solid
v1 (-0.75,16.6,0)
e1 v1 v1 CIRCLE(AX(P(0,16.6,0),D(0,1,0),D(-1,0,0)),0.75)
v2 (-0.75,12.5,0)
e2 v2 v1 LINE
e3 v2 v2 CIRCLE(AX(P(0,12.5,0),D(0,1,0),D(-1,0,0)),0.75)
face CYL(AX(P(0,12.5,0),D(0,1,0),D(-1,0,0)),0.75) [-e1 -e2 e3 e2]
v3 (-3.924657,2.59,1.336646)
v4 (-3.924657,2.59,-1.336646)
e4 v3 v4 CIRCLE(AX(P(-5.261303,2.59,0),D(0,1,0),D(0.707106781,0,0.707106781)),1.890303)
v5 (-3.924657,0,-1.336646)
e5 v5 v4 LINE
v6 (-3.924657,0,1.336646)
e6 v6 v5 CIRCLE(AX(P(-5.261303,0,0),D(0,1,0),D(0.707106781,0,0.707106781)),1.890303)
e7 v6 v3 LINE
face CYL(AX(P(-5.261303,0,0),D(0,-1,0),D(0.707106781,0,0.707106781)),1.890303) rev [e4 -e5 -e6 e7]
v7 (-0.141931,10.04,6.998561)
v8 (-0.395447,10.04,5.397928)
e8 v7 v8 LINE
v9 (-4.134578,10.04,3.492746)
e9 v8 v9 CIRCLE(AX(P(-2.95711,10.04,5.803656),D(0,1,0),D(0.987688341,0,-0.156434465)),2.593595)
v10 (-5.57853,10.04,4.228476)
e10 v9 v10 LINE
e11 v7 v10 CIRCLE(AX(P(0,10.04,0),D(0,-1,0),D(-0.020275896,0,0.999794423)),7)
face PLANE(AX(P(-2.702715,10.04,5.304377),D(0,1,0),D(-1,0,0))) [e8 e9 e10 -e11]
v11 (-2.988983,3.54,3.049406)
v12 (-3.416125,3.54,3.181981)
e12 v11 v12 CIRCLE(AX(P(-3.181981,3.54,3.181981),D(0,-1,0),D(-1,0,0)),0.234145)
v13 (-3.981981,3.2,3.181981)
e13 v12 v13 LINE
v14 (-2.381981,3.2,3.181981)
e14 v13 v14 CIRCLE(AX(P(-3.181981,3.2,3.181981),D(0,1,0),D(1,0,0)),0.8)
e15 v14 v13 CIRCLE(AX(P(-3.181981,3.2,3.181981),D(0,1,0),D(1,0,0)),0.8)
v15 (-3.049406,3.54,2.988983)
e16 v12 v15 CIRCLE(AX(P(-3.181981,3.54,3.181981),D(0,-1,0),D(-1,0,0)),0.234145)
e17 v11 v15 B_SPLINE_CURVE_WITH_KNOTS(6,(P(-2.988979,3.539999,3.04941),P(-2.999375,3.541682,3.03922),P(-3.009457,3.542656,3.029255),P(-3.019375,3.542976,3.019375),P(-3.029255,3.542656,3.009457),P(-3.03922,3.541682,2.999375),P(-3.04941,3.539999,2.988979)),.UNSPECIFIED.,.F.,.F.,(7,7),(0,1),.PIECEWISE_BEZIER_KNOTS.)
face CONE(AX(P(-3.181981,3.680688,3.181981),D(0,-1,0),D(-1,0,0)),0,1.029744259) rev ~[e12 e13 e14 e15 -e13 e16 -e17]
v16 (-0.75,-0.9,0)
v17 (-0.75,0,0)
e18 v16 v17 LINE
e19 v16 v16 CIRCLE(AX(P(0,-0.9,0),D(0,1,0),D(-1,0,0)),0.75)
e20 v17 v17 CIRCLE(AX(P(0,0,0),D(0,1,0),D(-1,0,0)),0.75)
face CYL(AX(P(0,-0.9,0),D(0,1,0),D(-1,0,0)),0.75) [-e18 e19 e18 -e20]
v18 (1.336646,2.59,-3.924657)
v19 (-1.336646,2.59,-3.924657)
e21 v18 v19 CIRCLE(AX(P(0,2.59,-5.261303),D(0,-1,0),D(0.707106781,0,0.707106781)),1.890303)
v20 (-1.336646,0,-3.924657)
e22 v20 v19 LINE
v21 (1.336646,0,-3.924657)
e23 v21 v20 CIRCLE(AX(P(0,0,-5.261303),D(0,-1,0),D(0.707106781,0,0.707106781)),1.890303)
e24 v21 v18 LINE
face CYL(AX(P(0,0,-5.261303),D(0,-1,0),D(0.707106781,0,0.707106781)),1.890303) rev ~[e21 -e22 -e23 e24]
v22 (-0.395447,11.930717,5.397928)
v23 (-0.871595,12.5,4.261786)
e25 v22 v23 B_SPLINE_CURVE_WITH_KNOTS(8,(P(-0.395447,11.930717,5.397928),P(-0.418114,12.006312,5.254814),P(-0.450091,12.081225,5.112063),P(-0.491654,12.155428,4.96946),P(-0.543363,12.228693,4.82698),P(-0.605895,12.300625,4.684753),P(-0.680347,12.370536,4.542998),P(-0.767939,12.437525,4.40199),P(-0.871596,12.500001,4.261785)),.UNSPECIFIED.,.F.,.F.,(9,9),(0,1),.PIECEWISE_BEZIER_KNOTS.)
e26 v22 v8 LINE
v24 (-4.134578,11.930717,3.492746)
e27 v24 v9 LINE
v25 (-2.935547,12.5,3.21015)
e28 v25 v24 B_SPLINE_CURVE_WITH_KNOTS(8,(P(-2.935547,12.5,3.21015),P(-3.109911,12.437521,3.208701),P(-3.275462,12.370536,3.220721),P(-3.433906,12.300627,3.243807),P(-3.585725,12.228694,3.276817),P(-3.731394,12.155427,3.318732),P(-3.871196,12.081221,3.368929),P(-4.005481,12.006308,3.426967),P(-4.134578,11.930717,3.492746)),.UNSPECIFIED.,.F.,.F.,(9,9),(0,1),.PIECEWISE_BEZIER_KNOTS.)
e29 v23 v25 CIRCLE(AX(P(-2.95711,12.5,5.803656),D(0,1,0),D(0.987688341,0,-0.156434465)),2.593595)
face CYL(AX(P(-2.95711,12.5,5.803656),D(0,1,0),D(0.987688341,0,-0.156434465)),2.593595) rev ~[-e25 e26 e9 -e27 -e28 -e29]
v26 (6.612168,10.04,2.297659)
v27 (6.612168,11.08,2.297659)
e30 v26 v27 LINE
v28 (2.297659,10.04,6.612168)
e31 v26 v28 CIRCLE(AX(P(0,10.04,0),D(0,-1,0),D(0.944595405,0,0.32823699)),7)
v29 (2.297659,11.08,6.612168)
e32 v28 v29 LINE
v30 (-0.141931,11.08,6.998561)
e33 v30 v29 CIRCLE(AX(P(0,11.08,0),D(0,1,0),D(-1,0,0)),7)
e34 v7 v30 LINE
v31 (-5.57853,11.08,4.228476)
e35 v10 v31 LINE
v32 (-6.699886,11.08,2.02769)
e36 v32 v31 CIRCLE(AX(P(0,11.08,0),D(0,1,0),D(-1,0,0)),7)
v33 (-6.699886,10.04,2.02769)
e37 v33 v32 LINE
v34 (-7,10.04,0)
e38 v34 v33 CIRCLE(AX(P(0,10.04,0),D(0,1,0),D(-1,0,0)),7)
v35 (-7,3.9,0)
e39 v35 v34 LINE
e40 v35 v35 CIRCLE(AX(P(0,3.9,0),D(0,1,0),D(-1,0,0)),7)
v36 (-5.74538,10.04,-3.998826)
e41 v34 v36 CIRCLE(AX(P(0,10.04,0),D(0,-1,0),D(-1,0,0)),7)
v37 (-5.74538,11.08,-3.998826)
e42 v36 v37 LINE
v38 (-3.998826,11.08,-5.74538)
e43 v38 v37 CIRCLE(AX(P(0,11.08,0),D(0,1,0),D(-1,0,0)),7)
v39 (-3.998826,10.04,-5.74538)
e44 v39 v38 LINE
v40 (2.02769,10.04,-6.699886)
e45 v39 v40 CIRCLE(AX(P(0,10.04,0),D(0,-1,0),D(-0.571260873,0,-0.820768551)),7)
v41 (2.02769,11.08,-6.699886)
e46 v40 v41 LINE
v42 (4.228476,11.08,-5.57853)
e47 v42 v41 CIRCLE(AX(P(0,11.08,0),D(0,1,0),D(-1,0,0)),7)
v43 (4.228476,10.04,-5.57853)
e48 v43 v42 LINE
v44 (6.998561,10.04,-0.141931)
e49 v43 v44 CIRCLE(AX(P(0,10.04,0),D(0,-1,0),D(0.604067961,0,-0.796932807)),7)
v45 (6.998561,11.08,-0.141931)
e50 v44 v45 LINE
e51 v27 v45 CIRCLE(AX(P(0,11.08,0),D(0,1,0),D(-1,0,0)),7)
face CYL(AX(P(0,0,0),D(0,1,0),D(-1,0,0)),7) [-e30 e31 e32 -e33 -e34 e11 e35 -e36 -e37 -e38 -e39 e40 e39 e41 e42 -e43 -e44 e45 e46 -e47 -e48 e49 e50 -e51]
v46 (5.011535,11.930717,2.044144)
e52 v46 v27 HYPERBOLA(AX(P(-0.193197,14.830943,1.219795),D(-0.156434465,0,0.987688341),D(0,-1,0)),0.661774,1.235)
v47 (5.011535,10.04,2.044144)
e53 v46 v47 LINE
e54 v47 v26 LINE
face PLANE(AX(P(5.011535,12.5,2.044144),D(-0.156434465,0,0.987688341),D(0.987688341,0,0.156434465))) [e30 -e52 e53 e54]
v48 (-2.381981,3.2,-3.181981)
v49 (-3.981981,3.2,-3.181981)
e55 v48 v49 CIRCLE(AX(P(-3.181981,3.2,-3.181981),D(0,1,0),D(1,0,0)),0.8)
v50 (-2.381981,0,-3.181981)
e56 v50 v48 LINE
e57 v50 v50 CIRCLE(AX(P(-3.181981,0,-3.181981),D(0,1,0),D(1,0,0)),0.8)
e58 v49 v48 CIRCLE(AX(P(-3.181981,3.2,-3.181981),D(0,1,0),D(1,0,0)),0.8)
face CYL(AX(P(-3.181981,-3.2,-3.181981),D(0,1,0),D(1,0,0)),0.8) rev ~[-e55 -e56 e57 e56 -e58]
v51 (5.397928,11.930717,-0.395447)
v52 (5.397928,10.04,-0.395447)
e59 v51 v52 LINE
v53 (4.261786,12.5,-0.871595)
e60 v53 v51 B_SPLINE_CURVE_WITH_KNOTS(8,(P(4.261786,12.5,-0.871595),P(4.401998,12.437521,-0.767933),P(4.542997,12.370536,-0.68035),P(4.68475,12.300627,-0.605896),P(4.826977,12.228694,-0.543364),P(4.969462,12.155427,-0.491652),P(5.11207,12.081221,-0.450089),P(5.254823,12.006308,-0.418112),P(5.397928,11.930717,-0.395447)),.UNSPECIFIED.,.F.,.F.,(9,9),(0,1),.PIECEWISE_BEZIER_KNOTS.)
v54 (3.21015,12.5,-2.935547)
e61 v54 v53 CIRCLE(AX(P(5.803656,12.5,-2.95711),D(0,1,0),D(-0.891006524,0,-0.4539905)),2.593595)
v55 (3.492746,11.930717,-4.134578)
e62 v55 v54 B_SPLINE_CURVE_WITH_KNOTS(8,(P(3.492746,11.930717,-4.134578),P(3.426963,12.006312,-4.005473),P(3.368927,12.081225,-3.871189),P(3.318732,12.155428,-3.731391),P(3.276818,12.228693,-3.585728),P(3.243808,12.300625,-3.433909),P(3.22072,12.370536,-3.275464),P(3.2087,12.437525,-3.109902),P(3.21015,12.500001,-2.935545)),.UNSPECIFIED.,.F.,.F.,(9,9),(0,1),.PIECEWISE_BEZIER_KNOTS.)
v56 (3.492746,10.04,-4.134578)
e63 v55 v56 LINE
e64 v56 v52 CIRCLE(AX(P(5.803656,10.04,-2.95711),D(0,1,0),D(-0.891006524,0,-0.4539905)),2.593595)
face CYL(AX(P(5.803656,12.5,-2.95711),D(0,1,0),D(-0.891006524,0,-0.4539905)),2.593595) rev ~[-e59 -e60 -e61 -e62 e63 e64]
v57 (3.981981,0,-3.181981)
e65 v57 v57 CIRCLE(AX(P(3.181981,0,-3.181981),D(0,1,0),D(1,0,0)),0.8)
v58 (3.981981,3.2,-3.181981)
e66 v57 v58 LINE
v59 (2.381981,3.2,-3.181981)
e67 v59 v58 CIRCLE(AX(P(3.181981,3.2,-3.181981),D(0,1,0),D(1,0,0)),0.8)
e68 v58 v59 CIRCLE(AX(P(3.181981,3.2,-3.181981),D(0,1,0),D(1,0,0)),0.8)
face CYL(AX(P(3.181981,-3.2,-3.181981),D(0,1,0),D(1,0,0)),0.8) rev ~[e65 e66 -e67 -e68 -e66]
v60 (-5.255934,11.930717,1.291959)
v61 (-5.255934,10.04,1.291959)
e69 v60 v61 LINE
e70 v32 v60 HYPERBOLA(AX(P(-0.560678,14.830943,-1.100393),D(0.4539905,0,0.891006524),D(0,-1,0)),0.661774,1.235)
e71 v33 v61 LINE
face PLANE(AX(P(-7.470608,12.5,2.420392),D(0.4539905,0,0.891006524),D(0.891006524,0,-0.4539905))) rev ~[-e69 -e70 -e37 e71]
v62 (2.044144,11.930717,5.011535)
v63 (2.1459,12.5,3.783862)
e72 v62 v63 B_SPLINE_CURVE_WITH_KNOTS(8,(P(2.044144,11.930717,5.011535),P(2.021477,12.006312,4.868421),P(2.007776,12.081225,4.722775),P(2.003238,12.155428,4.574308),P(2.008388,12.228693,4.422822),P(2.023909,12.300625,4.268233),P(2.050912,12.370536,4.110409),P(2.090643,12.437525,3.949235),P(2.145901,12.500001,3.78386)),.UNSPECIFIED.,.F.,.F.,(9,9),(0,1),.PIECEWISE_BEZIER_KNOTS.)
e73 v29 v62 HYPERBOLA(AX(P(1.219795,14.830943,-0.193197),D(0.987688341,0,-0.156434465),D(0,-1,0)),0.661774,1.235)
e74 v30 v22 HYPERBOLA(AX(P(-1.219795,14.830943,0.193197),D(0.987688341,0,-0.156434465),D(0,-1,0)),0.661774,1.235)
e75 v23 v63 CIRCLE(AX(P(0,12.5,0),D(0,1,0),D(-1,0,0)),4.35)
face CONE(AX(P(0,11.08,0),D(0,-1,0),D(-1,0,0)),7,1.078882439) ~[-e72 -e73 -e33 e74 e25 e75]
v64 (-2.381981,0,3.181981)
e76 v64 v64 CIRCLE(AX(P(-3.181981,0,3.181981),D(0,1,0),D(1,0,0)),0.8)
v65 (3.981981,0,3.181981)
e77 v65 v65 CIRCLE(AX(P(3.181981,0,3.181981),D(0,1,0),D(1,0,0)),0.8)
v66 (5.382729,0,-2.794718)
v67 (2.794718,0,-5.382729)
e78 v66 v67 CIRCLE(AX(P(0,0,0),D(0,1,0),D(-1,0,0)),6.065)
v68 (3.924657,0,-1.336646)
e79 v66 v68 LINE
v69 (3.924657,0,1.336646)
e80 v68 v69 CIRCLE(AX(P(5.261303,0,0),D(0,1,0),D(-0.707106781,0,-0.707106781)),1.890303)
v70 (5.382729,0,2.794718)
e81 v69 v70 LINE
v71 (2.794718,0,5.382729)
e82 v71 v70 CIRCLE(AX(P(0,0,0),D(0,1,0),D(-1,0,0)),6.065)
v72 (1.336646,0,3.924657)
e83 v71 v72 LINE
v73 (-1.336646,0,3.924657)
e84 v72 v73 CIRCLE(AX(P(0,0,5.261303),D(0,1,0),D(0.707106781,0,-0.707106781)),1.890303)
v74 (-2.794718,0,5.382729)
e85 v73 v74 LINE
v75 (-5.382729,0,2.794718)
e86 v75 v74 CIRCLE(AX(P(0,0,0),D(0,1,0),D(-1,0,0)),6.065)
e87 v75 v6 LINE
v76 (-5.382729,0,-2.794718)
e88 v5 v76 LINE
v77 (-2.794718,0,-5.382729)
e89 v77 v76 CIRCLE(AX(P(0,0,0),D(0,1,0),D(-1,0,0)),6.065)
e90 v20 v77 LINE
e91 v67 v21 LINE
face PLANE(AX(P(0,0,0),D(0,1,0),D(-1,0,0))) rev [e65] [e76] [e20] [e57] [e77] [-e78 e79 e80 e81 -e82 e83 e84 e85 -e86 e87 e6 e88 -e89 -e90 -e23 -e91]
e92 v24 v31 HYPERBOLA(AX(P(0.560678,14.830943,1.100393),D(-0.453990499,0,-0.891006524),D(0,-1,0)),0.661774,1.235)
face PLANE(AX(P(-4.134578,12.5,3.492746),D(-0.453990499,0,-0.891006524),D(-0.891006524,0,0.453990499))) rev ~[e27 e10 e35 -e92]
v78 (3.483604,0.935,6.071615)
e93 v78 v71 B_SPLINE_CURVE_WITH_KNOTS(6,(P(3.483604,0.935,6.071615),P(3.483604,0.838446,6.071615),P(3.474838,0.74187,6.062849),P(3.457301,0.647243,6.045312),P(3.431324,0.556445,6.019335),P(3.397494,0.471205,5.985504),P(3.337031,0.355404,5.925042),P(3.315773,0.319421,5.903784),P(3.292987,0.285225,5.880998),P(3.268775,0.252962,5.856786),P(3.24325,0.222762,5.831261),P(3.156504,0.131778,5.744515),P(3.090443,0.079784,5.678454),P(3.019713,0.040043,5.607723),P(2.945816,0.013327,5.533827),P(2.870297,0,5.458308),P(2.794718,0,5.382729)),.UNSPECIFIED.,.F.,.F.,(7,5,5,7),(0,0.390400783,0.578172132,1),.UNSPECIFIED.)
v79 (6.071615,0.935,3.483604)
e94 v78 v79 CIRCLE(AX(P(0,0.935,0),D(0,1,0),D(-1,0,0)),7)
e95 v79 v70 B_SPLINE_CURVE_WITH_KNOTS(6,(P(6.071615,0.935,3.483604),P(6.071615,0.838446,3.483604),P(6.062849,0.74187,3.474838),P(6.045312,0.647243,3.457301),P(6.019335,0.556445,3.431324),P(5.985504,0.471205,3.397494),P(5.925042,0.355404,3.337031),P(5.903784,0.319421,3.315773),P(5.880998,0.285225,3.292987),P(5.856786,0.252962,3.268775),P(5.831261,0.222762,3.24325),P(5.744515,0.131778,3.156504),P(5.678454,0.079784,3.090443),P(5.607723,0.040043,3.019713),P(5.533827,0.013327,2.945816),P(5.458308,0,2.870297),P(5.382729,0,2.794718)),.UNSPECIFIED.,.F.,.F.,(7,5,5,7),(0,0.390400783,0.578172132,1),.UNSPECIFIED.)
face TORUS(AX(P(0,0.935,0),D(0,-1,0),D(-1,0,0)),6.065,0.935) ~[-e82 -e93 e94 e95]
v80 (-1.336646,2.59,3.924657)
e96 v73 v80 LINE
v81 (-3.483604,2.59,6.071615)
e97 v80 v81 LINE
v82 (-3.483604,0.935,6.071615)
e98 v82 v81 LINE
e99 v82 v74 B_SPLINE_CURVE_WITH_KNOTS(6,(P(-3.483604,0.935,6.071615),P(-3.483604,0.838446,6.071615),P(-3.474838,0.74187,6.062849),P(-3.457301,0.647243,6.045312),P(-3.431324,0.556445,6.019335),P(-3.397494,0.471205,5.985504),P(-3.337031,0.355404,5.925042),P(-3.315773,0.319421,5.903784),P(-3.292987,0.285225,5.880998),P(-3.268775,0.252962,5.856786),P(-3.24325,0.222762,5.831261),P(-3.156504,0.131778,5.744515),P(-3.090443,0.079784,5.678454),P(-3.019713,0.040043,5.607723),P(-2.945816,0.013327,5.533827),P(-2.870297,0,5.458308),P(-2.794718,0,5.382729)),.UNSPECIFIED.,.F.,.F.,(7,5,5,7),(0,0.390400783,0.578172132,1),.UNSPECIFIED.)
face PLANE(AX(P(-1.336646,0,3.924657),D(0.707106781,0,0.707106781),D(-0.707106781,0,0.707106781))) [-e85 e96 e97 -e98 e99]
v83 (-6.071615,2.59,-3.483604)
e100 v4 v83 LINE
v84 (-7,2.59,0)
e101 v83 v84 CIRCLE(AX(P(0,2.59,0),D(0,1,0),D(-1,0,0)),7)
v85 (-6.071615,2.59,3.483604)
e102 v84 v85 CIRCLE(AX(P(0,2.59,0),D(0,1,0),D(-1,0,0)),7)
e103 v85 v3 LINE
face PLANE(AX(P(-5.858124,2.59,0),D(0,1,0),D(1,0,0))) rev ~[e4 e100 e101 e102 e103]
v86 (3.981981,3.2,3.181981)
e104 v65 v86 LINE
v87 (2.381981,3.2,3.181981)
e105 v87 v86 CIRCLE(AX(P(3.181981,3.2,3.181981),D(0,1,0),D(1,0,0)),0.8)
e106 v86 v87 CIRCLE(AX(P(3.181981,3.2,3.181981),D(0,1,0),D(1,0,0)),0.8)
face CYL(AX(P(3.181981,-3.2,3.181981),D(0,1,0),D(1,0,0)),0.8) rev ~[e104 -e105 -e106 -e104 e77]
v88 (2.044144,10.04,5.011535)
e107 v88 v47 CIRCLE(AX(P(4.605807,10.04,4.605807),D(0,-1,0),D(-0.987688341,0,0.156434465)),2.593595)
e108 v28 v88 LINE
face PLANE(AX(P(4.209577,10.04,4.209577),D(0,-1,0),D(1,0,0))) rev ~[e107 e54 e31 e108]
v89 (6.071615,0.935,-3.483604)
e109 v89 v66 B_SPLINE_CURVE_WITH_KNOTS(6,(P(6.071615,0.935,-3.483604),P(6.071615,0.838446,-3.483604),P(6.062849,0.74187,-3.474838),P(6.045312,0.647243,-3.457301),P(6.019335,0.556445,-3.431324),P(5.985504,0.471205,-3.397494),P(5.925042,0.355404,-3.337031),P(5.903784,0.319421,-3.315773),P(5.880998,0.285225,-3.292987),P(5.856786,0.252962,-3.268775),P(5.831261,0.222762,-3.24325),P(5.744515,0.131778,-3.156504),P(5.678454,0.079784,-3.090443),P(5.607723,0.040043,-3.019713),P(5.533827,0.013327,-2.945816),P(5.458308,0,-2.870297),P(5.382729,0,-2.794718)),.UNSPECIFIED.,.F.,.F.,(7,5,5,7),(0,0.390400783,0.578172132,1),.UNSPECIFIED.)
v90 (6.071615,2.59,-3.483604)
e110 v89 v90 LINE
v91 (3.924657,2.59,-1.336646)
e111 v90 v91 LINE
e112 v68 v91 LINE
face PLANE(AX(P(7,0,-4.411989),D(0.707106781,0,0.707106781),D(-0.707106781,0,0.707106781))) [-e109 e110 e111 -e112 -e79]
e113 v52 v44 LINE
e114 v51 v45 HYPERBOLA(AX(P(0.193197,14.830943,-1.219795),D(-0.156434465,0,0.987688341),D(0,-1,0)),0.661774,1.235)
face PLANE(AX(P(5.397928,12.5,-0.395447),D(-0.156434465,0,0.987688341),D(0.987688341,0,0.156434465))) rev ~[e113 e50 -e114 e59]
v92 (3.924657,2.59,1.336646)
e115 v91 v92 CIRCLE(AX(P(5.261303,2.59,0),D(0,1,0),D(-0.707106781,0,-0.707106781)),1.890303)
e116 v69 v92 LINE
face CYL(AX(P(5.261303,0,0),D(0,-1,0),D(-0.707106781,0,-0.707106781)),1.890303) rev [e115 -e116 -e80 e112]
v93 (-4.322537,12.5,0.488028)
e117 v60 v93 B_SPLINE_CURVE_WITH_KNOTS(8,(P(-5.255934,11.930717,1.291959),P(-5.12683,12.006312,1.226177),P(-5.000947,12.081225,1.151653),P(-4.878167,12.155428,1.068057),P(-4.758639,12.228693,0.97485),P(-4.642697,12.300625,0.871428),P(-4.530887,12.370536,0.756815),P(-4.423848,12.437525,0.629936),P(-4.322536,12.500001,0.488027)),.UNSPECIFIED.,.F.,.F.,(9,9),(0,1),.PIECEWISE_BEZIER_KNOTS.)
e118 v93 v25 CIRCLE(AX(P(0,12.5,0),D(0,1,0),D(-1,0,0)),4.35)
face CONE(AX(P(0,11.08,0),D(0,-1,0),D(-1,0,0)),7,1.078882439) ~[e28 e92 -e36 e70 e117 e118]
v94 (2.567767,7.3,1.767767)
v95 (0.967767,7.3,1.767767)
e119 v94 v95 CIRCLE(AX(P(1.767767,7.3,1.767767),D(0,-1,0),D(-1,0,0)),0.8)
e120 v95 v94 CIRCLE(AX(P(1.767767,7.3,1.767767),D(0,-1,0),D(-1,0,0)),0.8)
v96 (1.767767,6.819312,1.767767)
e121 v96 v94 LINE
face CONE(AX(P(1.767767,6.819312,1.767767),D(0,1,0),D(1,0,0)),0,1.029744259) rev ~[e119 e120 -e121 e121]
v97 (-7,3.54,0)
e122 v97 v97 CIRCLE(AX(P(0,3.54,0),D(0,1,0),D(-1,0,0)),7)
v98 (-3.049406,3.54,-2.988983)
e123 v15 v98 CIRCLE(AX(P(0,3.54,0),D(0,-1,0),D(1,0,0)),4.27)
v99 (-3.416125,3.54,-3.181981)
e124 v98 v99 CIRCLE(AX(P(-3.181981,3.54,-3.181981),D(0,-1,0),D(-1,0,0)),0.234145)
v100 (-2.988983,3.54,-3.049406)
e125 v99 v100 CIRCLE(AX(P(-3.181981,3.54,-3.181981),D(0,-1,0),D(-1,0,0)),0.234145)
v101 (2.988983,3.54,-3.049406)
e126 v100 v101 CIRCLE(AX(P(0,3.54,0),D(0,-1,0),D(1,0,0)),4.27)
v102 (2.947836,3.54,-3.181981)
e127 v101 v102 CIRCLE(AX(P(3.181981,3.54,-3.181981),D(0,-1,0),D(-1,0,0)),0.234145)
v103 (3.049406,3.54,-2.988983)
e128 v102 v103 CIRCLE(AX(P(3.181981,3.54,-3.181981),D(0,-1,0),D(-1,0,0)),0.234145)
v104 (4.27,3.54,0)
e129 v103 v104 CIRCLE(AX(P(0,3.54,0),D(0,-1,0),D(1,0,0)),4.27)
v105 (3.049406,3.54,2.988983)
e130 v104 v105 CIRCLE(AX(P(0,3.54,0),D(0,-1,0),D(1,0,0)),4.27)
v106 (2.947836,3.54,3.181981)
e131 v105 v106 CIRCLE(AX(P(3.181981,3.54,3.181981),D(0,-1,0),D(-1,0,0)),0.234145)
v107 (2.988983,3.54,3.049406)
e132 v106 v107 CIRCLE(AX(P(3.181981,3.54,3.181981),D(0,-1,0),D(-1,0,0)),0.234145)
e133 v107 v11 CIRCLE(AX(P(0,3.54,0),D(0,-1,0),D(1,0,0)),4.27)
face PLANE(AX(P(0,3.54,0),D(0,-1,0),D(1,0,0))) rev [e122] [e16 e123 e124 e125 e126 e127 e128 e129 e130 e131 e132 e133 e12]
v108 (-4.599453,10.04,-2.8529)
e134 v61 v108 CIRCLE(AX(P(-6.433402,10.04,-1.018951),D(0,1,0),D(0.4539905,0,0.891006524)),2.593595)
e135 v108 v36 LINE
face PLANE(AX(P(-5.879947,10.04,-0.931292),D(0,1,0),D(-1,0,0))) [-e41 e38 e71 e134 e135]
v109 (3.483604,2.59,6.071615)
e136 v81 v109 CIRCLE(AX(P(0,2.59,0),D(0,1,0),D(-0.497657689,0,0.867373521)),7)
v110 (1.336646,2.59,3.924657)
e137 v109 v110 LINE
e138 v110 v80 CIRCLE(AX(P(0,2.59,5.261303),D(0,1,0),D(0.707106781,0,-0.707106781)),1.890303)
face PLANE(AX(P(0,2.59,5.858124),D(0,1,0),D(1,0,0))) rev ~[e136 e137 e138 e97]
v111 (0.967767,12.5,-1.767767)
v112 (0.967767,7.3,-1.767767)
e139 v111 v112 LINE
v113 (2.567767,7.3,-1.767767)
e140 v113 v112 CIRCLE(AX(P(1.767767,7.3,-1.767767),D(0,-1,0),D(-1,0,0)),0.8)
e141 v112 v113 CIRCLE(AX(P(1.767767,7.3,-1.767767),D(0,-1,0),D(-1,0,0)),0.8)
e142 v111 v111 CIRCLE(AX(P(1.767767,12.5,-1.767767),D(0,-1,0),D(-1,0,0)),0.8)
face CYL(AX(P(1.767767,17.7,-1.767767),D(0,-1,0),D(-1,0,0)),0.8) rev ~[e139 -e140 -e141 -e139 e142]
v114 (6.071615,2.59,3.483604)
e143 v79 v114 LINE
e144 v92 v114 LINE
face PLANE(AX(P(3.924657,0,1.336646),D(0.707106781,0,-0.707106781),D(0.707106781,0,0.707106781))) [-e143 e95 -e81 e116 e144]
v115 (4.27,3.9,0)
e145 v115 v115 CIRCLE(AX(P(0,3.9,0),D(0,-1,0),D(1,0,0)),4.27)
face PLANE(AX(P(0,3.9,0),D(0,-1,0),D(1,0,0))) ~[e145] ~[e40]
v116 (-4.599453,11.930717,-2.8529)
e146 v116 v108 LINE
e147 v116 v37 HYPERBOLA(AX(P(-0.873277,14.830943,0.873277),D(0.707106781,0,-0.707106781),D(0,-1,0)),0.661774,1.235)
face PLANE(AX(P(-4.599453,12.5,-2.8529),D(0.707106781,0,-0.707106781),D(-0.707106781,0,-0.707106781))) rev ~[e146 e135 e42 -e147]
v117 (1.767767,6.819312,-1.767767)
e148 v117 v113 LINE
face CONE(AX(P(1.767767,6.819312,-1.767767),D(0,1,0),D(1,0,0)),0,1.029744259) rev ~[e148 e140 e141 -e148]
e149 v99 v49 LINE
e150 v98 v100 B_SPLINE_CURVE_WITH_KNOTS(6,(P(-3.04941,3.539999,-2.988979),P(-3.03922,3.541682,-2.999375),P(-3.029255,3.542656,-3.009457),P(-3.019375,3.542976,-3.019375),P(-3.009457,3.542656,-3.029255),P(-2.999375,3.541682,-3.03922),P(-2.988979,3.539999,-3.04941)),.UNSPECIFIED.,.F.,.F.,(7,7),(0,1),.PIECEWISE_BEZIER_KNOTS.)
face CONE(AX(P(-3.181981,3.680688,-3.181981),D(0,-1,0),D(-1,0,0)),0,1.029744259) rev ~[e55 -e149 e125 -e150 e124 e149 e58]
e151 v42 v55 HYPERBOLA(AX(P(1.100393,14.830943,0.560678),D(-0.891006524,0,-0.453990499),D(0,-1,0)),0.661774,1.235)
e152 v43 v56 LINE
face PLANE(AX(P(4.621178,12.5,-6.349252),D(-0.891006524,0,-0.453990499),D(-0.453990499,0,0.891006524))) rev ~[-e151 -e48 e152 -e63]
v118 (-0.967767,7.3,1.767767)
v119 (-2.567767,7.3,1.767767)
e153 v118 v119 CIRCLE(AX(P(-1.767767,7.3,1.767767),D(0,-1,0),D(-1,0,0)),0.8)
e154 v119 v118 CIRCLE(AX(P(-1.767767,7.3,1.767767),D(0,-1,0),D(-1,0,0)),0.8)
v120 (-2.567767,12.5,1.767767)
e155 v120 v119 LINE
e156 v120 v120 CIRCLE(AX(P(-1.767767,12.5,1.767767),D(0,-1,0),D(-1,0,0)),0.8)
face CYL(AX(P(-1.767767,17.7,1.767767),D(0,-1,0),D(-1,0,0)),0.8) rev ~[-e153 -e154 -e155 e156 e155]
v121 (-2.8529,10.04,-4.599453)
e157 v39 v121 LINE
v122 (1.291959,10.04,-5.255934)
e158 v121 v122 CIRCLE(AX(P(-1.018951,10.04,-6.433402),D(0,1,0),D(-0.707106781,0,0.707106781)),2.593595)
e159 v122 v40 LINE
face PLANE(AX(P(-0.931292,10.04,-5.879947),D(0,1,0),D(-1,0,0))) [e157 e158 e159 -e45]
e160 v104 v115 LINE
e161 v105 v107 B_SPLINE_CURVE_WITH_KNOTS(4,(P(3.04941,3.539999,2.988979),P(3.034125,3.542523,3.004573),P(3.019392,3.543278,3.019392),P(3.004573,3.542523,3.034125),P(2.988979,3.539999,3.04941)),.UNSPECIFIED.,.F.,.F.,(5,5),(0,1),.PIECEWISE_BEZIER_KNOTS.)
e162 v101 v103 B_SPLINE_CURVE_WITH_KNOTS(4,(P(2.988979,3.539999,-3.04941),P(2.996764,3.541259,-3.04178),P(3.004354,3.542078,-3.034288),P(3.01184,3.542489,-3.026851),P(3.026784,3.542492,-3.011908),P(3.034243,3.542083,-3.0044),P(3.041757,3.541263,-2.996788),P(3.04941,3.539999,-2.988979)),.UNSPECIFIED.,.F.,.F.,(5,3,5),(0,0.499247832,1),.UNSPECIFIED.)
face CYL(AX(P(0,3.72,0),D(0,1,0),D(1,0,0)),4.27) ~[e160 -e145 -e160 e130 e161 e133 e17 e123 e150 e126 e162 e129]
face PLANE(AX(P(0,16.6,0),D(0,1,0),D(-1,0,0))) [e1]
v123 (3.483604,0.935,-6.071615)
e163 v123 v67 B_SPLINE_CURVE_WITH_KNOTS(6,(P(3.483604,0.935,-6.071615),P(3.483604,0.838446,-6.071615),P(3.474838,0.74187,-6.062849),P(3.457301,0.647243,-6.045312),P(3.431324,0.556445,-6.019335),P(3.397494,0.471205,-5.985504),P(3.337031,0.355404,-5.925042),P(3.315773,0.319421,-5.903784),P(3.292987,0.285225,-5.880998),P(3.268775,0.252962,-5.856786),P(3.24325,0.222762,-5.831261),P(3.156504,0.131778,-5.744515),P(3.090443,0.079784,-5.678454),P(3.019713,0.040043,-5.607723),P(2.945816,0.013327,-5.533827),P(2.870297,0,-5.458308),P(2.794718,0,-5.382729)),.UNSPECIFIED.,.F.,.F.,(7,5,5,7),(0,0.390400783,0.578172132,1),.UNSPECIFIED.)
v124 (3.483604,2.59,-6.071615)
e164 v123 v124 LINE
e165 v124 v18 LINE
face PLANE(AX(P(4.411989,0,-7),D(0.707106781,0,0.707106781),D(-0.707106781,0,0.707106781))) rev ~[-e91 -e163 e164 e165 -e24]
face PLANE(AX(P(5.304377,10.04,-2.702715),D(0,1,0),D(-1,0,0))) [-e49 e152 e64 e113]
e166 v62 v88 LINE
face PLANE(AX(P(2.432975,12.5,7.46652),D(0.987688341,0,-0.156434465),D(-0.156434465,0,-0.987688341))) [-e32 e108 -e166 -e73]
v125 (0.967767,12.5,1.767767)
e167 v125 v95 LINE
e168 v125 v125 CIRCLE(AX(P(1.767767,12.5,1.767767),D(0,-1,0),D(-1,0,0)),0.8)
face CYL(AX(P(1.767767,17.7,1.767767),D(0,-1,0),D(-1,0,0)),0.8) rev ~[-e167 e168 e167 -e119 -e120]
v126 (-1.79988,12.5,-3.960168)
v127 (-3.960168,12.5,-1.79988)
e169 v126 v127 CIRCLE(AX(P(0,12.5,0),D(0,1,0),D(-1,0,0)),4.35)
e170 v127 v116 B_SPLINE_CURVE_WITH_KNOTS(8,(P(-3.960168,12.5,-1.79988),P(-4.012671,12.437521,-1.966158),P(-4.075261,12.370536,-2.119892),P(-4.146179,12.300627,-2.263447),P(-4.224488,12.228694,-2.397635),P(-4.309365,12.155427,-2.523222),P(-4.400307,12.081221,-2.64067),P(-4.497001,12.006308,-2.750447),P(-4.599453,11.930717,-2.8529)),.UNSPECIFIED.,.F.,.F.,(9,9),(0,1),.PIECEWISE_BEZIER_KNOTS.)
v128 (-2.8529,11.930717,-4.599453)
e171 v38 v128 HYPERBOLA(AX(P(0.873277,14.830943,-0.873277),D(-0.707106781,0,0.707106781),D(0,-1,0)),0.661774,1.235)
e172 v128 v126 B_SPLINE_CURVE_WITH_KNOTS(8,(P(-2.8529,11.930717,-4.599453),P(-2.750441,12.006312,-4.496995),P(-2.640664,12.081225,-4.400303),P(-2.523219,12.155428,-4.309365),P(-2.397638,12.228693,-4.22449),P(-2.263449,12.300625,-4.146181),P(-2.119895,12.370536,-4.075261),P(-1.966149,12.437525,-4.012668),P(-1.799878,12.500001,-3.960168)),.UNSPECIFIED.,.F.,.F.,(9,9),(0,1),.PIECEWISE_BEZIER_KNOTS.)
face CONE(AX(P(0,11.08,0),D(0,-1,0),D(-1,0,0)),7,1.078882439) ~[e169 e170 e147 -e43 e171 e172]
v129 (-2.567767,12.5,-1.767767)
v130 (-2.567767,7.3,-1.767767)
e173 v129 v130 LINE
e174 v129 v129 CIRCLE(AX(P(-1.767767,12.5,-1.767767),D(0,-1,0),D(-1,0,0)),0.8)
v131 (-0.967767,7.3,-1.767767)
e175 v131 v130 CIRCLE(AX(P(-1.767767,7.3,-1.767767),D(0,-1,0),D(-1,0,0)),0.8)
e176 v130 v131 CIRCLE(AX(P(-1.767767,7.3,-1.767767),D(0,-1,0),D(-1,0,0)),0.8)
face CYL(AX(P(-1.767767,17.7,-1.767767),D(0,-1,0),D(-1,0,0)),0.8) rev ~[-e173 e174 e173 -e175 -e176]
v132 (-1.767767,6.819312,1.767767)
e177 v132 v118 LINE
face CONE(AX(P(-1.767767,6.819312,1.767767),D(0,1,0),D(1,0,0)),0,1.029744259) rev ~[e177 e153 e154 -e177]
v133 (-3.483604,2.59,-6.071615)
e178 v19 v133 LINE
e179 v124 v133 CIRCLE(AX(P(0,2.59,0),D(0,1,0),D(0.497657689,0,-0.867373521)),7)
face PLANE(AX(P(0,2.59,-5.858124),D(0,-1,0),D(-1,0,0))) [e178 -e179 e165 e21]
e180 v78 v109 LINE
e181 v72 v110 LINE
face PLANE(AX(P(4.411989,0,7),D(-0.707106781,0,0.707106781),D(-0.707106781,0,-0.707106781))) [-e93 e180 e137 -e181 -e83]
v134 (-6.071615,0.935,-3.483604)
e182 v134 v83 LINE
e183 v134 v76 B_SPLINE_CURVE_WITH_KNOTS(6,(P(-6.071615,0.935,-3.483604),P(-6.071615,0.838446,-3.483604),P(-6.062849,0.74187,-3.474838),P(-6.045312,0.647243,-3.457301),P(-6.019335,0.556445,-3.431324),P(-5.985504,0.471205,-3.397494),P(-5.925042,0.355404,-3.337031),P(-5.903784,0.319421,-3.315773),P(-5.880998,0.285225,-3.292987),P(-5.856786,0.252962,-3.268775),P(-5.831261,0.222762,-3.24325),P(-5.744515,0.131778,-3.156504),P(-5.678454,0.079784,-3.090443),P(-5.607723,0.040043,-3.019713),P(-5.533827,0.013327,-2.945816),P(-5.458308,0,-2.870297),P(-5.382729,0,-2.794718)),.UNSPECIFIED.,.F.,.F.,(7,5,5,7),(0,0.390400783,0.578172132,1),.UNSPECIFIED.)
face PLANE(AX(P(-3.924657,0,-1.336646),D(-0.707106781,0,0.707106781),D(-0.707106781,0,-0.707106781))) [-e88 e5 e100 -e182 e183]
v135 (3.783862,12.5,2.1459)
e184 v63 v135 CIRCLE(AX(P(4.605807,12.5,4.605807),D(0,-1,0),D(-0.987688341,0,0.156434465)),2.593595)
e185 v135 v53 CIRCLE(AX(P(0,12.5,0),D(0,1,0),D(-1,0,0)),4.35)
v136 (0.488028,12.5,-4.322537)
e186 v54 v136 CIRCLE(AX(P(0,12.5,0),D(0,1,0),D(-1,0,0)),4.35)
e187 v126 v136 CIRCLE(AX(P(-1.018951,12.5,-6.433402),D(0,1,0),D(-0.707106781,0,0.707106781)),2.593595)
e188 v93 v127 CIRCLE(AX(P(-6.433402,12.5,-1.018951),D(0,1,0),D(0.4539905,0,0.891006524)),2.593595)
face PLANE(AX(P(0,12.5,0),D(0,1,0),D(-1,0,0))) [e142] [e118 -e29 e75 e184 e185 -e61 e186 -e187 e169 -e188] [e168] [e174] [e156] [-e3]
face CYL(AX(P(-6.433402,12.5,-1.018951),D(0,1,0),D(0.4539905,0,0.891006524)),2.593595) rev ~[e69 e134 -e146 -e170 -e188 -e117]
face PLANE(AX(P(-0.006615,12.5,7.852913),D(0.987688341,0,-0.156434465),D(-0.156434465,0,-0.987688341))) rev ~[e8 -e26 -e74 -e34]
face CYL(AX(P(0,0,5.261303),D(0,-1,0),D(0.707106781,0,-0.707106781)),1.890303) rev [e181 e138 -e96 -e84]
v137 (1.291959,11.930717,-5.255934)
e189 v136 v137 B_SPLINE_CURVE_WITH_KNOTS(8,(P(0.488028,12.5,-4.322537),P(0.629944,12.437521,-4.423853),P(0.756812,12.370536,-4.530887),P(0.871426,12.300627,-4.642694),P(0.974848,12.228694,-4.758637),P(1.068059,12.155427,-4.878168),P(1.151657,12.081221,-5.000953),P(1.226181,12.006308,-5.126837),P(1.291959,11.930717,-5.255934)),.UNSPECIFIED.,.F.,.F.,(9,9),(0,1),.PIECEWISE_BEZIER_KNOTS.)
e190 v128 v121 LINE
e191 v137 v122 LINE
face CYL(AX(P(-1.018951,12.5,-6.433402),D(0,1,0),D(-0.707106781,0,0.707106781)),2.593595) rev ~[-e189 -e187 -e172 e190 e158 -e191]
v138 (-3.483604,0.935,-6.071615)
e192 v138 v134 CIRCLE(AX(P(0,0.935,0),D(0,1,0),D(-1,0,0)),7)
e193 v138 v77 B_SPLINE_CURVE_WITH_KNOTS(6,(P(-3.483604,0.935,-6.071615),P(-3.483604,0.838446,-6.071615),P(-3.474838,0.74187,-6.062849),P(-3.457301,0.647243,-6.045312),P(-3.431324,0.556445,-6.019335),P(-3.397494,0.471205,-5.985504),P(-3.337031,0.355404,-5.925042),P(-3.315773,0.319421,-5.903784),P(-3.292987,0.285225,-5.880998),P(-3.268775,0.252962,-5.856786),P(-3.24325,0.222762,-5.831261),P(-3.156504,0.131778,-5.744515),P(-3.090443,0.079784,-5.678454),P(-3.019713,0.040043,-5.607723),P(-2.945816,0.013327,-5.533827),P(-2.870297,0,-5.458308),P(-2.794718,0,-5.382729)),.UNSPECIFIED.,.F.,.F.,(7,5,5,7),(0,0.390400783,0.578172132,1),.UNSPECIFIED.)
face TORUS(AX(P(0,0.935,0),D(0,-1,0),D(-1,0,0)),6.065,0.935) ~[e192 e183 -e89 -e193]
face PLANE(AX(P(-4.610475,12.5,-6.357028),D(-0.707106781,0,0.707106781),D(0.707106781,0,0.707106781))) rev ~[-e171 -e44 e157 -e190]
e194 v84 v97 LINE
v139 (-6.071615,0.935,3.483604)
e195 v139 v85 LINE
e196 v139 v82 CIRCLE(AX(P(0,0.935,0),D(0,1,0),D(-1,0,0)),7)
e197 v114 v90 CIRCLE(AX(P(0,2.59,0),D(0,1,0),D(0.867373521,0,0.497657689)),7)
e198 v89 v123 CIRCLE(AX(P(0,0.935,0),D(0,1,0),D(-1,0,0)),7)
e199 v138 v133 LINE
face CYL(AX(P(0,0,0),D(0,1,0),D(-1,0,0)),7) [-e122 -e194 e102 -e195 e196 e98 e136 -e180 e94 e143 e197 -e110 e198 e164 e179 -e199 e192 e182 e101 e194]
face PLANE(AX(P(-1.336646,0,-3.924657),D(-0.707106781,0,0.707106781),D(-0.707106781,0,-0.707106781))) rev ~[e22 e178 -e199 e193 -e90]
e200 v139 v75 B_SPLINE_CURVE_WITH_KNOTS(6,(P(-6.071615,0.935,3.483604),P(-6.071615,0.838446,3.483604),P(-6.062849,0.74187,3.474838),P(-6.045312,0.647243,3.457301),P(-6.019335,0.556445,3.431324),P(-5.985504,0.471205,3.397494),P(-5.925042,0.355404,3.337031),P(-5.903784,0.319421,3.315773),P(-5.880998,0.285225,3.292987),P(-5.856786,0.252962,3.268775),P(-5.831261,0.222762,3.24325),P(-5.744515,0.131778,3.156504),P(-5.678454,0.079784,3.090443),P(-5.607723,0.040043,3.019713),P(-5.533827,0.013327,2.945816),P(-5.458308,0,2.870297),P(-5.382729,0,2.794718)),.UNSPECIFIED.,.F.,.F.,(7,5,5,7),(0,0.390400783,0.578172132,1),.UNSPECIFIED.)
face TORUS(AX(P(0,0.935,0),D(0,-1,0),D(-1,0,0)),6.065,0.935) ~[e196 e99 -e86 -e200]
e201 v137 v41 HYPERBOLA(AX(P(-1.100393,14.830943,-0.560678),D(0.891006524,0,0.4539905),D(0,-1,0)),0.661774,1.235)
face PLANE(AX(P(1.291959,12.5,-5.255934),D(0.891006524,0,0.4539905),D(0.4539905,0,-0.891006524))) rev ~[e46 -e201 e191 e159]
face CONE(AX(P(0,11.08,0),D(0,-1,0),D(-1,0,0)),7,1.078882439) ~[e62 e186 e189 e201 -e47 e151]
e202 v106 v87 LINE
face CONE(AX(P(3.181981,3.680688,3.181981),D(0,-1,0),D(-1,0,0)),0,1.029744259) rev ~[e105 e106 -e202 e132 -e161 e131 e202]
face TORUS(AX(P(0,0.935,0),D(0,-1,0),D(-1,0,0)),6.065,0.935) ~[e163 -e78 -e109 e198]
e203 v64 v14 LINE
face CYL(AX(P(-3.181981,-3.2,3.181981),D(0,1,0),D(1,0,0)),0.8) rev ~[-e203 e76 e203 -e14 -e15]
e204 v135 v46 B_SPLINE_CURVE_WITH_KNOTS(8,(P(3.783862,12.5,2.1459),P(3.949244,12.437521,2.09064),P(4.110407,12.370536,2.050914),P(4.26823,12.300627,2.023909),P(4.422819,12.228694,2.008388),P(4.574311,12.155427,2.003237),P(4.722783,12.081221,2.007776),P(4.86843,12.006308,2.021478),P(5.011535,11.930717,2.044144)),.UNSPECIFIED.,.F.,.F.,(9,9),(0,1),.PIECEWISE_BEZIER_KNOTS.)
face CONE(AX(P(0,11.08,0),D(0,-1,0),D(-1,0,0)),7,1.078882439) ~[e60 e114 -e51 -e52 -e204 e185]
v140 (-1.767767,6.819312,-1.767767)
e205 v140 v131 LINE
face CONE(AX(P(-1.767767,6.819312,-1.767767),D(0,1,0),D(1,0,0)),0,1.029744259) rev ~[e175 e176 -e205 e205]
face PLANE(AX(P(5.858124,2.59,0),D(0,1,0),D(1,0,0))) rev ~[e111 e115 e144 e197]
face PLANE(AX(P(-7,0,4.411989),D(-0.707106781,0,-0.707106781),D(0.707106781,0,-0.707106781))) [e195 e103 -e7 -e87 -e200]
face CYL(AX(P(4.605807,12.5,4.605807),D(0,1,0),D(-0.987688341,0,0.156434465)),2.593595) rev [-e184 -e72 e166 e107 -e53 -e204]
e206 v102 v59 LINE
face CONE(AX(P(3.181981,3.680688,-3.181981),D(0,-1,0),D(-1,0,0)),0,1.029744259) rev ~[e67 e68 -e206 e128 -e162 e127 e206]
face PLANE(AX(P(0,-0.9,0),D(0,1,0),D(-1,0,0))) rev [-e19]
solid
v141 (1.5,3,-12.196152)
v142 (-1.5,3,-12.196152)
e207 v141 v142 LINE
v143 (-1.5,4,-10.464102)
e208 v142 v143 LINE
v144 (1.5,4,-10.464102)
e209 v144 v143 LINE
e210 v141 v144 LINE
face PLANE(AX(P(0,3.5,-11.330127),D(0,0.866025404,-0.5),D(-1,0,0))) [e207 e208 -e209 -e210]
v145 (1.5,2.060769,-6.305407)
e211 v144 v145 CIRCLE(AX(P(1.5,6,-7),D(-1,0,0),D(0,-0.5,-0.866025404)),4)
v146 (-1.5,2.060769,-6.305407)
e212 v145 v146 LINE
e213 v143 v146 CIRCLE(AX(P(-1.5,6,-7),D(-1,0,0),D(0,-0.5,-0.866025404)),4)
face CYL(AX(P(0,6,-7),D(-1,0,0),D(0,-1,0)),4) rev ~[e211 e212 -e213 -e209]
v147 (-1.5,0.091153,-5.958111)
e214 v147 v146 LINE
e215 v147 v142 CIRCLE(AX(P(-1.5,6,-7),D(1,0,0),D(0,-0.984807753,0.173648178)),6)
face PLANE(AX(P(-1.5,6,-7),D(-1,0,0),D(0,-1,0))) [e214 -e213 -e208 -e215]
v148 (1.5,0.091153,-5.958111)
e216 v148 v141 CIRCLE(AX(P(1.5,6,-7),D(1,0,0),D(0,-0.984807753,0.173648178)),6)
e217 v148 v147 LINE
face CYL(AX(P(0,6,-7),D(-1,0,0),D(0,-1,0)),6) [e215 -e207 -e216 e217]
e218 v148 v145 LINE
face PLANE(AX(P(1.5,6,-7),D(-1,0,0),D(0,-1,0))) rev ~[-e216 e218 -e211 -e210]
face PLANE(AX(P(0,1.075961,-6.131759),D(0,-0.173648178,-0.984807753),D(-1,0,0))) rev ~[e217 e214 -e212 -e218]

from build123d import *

# Parameters (mm, degrees)
M2X0_4_TAPPED_HOLE1_D     = 1.6
M2X0_4_TAPPED_HOLE1_DEPTH = 3.2
M2X0_4_TAPPED_HOLE1_TIP   = 0.480688495
M2X0_4_TAPPED_HOLE2_D     = 1.6
M2X0_4_TAPPED_HOLE2_DEPTH = 5.2
M2X0_4_TAPPED_HOLE2_TIP   = 0.480688495
CHAMFER1_SIZE             = 2.65
CHAMFER1_SIZE2            = 1.42
FILLET1_R                 = 0.935
CUT_EXTRUDE1_DEPTH        = 2.59
SKETCH13_W                = 9.661742765
SKETCH13_H                = 0.36
CUT_EXTRUDE2_DEPTH        = 2.46
SKETCH7_W                 = 3
SKETCH7_H                 = 2
REVOLVE3_ANGLE            = 60
REVOLVE3_OTHER_WAY_ANGLE  = 10


with BuildPart() as part:
    # Sketch1 → Revolve1 (revolve)
    with BuildSketch(Plane.XY):
        Polygon((-0.75, 0), (-7, 0), (-7, 12.5), (-0.75, 12.5), (-0.75, 16.6), (0, 16.6), (0, -0.9), (-0.75, -0.9), align=None)
    revolve(axis=Axis((0, -74.460023863, 0), (0, 1, 0)))

    # M2x0.4 Tapped Hole1
    with Locations(Plane(origin=(0, 0, 0), x_dir=(-1, 0, 0), z_dir=(0, -1, 0))):
        with Locations((3.181980515, -3.181980515), (-3.181980515, -3.181980515), (-3.181980515, 3.181980515), (3.181980515, 3.181980515)):
            Hole(M2X0_4_TAPPED_HOLE1_D / 2, depth=M2X0_4_TAPPED_HOLE1_DEPTH)
            with Locations((0, 0, -(M2X0_4_TAPPED_HOLE1_DEPTH + M2X0_4_TAPPED_HOLE1_TIP / 2))):  # 118° drill point
                Cone(0, M2X0_4_TAPPED_HOLE1_D / 2, M2X0_4_TAPPED_HOLE1_TIP, mode=Mode.SUBTRACT)

    # M2x0.4 Tapped Hole2
    with Locations(Plane(origin=(0, 12.5, 0), x_dir=(1, 0, 0), z_dir=(0, 1, 0))):
        with Locations((-1.767766953, 1.767766953), (1.767766953, 1.767766953), (1.767766953, -1.767766953), (-1.767766953, -1.767766953)):
            Hole(M2X0_4_TAPPED_HOLE2_D / 2, depth=M2X0_4_TAPPED_HOLE2_DEPTH)
            with Locations((0, 0, -(M2X0_4_TAPPED_HOLE2_DEPTH + M2X0_4_TAPPED_HOLE2_TIP / 2))):  # 118° drill point
                Cone(0, M2X0_4_TAPPED_HOLE2_D / 2, M2X0_4_TAPPED_HOLE2_TIP, mode=Mode.SUBTRACT)

    # Chamfer1
    chamfer1_edges = [part.edges().sort_by_distance(p)[0] for p in [
        (7, 12.5, 0),
    ]]
    chamfer1_side = [part.faces().sort_by_distance(p)[0] for p in [
        (6.802010101, 12.5, 0),
    ]]
    chamfer(chamfer1_edges, length=CHAMFER1_SIZE, length2=CHAMFER1_SIZE2, reference=chamfer1_side[0])

    # Fillet1
    fillet1_edges = [part.edges().sort_by_distance(p)[0] for p in [
        (7, 0, 0),
    ]]
    fillet(fillet1_edges, radius=FILLET1_R)

    # Sketch10 → Cut-Extrude1 (cut)
    with BuildSketch(Plane(origin=(0, 0, 0), x_dir=(-1, 0, 0), z_dir=(0, -1, 0))):
        with BuildLine():
            Line((1.33664614, 3.924656959), (4.411989181, 7))
            Line((4.411989181, 7), (-4.411989181, 7))
            Line((-4.411989181, 7), (-1.33664614, 3.924656959))
            ThreePointArc((-1.33664614, 3.924656959), (0, 3.371), (1.33664614, 3.924656959))
        make_face()
        with BuildLine():
            Line((3.924656959, 1.33664614), (7, 4.411989181))
            Line((7, 4.411989181), (7, -4.411989181))
            Line((7, -4.411989181), (3.924656959, -1.33664614))
            ThreePointArc((3.924656959, -1.33664614), (3.371, 0), (3.924656959, 1.33664614))
        make_face()
        with BuildLine():
            Line((1.33664614, -3.924656959), (4.411989181, -7))
            Line((4.411989181, -7), (-4.411989181, -7))
            Line((-4.411989181, -7), (-1.33664614, -3.924656959))
            ThreePointArc((-1.33664614, -3.924656959), (0, -3.371), (1.33664614, -3.924656959))
        make_face()
        with BuildLine():
            Line((-3.924656959, -1.33664614), (-7, -4.411989181))
            Line((-7, -4.411989181), (-7, 4.411989181))
            Line((-7, 4.411989181), (-3.924656959, 1.33664614))
            ThreePointArc((-3.924656959, 1.33664614), (-3.371, 0), (-3.924656959, -1.33664614))
        make_face()
    extrude(amount=-CUT_EXTRUDE1_DEPTH, mode=Mode.SUBTRACT)

    # Sketch13 → Cut-Revolve1 (revolve, cut)
    with BuildSketch(Plane.XY):
        with Locations((9.100871383, 3.72)):
            Rectangle(SKETCH13_W, SKETCH13_H)
    revolve(axis=Axis((0, 7.126821905, 0), (0, -1, 0)), mode=Mode.SUBTRACT)

    # Sketch14 → Cut-Extrude2 (cut)
    with BuildSketch(Plane(origin=(0, 12.5, -12.5), x_dir=(1, 0, 0), z_dir=(0, -1, 0))):
        with BuildLine():
            Line((5.011535009, 14.544143598), (7.466519927, 14.93297501))
            Line((7.466519927, 14.93297501), (2.43297501, 19.966519927))
            Line((2.43297501, 19.966519927), (2.044143598, 17.511535009))
            ThreePointArc((2.044143598, 17.511535009), (2.771858582, 15.271858582), (5.011535009, 14.544143598))
        make_face()
        with BuildLine():
            Line((5.397928138, 12.104553397), (7.852913055, 12.493384809))
            Line((7.852913055, 12.493384809), (4.621178283, 6.150748195))
            Line((4.621178283, 6.150748195), (3.492745575, 8.365422084))
            ThreePointArc((3.492745575, 8.365422084), (3.492745575, 10.720357241), (5.397928138, 12.104553397))
        make_face()
        with BuildLine():
            Line((1.29195946, 7.244065549), (2.420392169, 5.02939166))
            Line((2.420392169, 5.02939166), (-4.610474679, 6.142971571))
            Line((-4.610474679, 6.142971571), (-2.85289953, 7.900546721))
            ThreePointArc((-2.85289953, 7.900546721), (-0.613223103, 8.628261705), (1.29195946, 7.244065549))
        make_face()
        with BuildLine():
            Line((-4.599453279, 9.64710047), (-6.357028429, 7.889525321))
            Line((-6.357028429, 7.889525321), (-7.47060834, 14.920392169))
            Line((-7.47060834, 14.920392169), (-5.255934451, 13.79195946))
            ThreePointArc((-5.255934451, 13.79195946), (-3.871738295, 11.886776897), (-4.599453279, 9.64710047))
        make_face()
        with BuildLine():
            Line((-4.134577916, 15.992745575), (-6.349251805, 17.121178283))
            Line((-6.349251805, 17.121178283), (-0.006615191, 20.352913055))
            Line((-0.006615191, 20.352913055), (-0.395446603, 17.897928138))
            ThreePointArc((-0.395446603, 17.897928138), (-1.779642759, 15.992745575), (-4.134577916, 15.992745575))
        make_face()
    extrude(amount=CUT_EXTRUDE2_DEPTH, mode=Mode.SUBTRACT)


with BuildPart() as body_2:
    # Sketch7 → Revolve3 (revolve)
    with BuildSketch(Plane(origin=(0, 0, -7), x_dir=(-1, 0, 0), z_dir=(0, 0, -1))):
        with Locations((0, 1)):
            Rectangle(SKETCH7_W, SKETCH7_H)
    revolve(axis=Axis((-7, 6, -7), (1, 0, 0)), revolution_arc=REVOLVE3_ANGLE)

    # Sketch7 → Revolve3 other way (revolve)
    with BuildSketch(Plane(origin=(0, 0, -7), x_dir=(-1, 0, 0), z_dir=(0, 0, -1))):
        with Locations((0, 1)):
            Rectangle(SKETCH7_W, SKETCH7_H)
    revolve(axis=Axis((-7, 6, -7), (-1, 0, 0)), revolution_arc=REVOLVE3_OTHER_WAY_ANGLE)


solid = Compound([part.part, body_2.part])
